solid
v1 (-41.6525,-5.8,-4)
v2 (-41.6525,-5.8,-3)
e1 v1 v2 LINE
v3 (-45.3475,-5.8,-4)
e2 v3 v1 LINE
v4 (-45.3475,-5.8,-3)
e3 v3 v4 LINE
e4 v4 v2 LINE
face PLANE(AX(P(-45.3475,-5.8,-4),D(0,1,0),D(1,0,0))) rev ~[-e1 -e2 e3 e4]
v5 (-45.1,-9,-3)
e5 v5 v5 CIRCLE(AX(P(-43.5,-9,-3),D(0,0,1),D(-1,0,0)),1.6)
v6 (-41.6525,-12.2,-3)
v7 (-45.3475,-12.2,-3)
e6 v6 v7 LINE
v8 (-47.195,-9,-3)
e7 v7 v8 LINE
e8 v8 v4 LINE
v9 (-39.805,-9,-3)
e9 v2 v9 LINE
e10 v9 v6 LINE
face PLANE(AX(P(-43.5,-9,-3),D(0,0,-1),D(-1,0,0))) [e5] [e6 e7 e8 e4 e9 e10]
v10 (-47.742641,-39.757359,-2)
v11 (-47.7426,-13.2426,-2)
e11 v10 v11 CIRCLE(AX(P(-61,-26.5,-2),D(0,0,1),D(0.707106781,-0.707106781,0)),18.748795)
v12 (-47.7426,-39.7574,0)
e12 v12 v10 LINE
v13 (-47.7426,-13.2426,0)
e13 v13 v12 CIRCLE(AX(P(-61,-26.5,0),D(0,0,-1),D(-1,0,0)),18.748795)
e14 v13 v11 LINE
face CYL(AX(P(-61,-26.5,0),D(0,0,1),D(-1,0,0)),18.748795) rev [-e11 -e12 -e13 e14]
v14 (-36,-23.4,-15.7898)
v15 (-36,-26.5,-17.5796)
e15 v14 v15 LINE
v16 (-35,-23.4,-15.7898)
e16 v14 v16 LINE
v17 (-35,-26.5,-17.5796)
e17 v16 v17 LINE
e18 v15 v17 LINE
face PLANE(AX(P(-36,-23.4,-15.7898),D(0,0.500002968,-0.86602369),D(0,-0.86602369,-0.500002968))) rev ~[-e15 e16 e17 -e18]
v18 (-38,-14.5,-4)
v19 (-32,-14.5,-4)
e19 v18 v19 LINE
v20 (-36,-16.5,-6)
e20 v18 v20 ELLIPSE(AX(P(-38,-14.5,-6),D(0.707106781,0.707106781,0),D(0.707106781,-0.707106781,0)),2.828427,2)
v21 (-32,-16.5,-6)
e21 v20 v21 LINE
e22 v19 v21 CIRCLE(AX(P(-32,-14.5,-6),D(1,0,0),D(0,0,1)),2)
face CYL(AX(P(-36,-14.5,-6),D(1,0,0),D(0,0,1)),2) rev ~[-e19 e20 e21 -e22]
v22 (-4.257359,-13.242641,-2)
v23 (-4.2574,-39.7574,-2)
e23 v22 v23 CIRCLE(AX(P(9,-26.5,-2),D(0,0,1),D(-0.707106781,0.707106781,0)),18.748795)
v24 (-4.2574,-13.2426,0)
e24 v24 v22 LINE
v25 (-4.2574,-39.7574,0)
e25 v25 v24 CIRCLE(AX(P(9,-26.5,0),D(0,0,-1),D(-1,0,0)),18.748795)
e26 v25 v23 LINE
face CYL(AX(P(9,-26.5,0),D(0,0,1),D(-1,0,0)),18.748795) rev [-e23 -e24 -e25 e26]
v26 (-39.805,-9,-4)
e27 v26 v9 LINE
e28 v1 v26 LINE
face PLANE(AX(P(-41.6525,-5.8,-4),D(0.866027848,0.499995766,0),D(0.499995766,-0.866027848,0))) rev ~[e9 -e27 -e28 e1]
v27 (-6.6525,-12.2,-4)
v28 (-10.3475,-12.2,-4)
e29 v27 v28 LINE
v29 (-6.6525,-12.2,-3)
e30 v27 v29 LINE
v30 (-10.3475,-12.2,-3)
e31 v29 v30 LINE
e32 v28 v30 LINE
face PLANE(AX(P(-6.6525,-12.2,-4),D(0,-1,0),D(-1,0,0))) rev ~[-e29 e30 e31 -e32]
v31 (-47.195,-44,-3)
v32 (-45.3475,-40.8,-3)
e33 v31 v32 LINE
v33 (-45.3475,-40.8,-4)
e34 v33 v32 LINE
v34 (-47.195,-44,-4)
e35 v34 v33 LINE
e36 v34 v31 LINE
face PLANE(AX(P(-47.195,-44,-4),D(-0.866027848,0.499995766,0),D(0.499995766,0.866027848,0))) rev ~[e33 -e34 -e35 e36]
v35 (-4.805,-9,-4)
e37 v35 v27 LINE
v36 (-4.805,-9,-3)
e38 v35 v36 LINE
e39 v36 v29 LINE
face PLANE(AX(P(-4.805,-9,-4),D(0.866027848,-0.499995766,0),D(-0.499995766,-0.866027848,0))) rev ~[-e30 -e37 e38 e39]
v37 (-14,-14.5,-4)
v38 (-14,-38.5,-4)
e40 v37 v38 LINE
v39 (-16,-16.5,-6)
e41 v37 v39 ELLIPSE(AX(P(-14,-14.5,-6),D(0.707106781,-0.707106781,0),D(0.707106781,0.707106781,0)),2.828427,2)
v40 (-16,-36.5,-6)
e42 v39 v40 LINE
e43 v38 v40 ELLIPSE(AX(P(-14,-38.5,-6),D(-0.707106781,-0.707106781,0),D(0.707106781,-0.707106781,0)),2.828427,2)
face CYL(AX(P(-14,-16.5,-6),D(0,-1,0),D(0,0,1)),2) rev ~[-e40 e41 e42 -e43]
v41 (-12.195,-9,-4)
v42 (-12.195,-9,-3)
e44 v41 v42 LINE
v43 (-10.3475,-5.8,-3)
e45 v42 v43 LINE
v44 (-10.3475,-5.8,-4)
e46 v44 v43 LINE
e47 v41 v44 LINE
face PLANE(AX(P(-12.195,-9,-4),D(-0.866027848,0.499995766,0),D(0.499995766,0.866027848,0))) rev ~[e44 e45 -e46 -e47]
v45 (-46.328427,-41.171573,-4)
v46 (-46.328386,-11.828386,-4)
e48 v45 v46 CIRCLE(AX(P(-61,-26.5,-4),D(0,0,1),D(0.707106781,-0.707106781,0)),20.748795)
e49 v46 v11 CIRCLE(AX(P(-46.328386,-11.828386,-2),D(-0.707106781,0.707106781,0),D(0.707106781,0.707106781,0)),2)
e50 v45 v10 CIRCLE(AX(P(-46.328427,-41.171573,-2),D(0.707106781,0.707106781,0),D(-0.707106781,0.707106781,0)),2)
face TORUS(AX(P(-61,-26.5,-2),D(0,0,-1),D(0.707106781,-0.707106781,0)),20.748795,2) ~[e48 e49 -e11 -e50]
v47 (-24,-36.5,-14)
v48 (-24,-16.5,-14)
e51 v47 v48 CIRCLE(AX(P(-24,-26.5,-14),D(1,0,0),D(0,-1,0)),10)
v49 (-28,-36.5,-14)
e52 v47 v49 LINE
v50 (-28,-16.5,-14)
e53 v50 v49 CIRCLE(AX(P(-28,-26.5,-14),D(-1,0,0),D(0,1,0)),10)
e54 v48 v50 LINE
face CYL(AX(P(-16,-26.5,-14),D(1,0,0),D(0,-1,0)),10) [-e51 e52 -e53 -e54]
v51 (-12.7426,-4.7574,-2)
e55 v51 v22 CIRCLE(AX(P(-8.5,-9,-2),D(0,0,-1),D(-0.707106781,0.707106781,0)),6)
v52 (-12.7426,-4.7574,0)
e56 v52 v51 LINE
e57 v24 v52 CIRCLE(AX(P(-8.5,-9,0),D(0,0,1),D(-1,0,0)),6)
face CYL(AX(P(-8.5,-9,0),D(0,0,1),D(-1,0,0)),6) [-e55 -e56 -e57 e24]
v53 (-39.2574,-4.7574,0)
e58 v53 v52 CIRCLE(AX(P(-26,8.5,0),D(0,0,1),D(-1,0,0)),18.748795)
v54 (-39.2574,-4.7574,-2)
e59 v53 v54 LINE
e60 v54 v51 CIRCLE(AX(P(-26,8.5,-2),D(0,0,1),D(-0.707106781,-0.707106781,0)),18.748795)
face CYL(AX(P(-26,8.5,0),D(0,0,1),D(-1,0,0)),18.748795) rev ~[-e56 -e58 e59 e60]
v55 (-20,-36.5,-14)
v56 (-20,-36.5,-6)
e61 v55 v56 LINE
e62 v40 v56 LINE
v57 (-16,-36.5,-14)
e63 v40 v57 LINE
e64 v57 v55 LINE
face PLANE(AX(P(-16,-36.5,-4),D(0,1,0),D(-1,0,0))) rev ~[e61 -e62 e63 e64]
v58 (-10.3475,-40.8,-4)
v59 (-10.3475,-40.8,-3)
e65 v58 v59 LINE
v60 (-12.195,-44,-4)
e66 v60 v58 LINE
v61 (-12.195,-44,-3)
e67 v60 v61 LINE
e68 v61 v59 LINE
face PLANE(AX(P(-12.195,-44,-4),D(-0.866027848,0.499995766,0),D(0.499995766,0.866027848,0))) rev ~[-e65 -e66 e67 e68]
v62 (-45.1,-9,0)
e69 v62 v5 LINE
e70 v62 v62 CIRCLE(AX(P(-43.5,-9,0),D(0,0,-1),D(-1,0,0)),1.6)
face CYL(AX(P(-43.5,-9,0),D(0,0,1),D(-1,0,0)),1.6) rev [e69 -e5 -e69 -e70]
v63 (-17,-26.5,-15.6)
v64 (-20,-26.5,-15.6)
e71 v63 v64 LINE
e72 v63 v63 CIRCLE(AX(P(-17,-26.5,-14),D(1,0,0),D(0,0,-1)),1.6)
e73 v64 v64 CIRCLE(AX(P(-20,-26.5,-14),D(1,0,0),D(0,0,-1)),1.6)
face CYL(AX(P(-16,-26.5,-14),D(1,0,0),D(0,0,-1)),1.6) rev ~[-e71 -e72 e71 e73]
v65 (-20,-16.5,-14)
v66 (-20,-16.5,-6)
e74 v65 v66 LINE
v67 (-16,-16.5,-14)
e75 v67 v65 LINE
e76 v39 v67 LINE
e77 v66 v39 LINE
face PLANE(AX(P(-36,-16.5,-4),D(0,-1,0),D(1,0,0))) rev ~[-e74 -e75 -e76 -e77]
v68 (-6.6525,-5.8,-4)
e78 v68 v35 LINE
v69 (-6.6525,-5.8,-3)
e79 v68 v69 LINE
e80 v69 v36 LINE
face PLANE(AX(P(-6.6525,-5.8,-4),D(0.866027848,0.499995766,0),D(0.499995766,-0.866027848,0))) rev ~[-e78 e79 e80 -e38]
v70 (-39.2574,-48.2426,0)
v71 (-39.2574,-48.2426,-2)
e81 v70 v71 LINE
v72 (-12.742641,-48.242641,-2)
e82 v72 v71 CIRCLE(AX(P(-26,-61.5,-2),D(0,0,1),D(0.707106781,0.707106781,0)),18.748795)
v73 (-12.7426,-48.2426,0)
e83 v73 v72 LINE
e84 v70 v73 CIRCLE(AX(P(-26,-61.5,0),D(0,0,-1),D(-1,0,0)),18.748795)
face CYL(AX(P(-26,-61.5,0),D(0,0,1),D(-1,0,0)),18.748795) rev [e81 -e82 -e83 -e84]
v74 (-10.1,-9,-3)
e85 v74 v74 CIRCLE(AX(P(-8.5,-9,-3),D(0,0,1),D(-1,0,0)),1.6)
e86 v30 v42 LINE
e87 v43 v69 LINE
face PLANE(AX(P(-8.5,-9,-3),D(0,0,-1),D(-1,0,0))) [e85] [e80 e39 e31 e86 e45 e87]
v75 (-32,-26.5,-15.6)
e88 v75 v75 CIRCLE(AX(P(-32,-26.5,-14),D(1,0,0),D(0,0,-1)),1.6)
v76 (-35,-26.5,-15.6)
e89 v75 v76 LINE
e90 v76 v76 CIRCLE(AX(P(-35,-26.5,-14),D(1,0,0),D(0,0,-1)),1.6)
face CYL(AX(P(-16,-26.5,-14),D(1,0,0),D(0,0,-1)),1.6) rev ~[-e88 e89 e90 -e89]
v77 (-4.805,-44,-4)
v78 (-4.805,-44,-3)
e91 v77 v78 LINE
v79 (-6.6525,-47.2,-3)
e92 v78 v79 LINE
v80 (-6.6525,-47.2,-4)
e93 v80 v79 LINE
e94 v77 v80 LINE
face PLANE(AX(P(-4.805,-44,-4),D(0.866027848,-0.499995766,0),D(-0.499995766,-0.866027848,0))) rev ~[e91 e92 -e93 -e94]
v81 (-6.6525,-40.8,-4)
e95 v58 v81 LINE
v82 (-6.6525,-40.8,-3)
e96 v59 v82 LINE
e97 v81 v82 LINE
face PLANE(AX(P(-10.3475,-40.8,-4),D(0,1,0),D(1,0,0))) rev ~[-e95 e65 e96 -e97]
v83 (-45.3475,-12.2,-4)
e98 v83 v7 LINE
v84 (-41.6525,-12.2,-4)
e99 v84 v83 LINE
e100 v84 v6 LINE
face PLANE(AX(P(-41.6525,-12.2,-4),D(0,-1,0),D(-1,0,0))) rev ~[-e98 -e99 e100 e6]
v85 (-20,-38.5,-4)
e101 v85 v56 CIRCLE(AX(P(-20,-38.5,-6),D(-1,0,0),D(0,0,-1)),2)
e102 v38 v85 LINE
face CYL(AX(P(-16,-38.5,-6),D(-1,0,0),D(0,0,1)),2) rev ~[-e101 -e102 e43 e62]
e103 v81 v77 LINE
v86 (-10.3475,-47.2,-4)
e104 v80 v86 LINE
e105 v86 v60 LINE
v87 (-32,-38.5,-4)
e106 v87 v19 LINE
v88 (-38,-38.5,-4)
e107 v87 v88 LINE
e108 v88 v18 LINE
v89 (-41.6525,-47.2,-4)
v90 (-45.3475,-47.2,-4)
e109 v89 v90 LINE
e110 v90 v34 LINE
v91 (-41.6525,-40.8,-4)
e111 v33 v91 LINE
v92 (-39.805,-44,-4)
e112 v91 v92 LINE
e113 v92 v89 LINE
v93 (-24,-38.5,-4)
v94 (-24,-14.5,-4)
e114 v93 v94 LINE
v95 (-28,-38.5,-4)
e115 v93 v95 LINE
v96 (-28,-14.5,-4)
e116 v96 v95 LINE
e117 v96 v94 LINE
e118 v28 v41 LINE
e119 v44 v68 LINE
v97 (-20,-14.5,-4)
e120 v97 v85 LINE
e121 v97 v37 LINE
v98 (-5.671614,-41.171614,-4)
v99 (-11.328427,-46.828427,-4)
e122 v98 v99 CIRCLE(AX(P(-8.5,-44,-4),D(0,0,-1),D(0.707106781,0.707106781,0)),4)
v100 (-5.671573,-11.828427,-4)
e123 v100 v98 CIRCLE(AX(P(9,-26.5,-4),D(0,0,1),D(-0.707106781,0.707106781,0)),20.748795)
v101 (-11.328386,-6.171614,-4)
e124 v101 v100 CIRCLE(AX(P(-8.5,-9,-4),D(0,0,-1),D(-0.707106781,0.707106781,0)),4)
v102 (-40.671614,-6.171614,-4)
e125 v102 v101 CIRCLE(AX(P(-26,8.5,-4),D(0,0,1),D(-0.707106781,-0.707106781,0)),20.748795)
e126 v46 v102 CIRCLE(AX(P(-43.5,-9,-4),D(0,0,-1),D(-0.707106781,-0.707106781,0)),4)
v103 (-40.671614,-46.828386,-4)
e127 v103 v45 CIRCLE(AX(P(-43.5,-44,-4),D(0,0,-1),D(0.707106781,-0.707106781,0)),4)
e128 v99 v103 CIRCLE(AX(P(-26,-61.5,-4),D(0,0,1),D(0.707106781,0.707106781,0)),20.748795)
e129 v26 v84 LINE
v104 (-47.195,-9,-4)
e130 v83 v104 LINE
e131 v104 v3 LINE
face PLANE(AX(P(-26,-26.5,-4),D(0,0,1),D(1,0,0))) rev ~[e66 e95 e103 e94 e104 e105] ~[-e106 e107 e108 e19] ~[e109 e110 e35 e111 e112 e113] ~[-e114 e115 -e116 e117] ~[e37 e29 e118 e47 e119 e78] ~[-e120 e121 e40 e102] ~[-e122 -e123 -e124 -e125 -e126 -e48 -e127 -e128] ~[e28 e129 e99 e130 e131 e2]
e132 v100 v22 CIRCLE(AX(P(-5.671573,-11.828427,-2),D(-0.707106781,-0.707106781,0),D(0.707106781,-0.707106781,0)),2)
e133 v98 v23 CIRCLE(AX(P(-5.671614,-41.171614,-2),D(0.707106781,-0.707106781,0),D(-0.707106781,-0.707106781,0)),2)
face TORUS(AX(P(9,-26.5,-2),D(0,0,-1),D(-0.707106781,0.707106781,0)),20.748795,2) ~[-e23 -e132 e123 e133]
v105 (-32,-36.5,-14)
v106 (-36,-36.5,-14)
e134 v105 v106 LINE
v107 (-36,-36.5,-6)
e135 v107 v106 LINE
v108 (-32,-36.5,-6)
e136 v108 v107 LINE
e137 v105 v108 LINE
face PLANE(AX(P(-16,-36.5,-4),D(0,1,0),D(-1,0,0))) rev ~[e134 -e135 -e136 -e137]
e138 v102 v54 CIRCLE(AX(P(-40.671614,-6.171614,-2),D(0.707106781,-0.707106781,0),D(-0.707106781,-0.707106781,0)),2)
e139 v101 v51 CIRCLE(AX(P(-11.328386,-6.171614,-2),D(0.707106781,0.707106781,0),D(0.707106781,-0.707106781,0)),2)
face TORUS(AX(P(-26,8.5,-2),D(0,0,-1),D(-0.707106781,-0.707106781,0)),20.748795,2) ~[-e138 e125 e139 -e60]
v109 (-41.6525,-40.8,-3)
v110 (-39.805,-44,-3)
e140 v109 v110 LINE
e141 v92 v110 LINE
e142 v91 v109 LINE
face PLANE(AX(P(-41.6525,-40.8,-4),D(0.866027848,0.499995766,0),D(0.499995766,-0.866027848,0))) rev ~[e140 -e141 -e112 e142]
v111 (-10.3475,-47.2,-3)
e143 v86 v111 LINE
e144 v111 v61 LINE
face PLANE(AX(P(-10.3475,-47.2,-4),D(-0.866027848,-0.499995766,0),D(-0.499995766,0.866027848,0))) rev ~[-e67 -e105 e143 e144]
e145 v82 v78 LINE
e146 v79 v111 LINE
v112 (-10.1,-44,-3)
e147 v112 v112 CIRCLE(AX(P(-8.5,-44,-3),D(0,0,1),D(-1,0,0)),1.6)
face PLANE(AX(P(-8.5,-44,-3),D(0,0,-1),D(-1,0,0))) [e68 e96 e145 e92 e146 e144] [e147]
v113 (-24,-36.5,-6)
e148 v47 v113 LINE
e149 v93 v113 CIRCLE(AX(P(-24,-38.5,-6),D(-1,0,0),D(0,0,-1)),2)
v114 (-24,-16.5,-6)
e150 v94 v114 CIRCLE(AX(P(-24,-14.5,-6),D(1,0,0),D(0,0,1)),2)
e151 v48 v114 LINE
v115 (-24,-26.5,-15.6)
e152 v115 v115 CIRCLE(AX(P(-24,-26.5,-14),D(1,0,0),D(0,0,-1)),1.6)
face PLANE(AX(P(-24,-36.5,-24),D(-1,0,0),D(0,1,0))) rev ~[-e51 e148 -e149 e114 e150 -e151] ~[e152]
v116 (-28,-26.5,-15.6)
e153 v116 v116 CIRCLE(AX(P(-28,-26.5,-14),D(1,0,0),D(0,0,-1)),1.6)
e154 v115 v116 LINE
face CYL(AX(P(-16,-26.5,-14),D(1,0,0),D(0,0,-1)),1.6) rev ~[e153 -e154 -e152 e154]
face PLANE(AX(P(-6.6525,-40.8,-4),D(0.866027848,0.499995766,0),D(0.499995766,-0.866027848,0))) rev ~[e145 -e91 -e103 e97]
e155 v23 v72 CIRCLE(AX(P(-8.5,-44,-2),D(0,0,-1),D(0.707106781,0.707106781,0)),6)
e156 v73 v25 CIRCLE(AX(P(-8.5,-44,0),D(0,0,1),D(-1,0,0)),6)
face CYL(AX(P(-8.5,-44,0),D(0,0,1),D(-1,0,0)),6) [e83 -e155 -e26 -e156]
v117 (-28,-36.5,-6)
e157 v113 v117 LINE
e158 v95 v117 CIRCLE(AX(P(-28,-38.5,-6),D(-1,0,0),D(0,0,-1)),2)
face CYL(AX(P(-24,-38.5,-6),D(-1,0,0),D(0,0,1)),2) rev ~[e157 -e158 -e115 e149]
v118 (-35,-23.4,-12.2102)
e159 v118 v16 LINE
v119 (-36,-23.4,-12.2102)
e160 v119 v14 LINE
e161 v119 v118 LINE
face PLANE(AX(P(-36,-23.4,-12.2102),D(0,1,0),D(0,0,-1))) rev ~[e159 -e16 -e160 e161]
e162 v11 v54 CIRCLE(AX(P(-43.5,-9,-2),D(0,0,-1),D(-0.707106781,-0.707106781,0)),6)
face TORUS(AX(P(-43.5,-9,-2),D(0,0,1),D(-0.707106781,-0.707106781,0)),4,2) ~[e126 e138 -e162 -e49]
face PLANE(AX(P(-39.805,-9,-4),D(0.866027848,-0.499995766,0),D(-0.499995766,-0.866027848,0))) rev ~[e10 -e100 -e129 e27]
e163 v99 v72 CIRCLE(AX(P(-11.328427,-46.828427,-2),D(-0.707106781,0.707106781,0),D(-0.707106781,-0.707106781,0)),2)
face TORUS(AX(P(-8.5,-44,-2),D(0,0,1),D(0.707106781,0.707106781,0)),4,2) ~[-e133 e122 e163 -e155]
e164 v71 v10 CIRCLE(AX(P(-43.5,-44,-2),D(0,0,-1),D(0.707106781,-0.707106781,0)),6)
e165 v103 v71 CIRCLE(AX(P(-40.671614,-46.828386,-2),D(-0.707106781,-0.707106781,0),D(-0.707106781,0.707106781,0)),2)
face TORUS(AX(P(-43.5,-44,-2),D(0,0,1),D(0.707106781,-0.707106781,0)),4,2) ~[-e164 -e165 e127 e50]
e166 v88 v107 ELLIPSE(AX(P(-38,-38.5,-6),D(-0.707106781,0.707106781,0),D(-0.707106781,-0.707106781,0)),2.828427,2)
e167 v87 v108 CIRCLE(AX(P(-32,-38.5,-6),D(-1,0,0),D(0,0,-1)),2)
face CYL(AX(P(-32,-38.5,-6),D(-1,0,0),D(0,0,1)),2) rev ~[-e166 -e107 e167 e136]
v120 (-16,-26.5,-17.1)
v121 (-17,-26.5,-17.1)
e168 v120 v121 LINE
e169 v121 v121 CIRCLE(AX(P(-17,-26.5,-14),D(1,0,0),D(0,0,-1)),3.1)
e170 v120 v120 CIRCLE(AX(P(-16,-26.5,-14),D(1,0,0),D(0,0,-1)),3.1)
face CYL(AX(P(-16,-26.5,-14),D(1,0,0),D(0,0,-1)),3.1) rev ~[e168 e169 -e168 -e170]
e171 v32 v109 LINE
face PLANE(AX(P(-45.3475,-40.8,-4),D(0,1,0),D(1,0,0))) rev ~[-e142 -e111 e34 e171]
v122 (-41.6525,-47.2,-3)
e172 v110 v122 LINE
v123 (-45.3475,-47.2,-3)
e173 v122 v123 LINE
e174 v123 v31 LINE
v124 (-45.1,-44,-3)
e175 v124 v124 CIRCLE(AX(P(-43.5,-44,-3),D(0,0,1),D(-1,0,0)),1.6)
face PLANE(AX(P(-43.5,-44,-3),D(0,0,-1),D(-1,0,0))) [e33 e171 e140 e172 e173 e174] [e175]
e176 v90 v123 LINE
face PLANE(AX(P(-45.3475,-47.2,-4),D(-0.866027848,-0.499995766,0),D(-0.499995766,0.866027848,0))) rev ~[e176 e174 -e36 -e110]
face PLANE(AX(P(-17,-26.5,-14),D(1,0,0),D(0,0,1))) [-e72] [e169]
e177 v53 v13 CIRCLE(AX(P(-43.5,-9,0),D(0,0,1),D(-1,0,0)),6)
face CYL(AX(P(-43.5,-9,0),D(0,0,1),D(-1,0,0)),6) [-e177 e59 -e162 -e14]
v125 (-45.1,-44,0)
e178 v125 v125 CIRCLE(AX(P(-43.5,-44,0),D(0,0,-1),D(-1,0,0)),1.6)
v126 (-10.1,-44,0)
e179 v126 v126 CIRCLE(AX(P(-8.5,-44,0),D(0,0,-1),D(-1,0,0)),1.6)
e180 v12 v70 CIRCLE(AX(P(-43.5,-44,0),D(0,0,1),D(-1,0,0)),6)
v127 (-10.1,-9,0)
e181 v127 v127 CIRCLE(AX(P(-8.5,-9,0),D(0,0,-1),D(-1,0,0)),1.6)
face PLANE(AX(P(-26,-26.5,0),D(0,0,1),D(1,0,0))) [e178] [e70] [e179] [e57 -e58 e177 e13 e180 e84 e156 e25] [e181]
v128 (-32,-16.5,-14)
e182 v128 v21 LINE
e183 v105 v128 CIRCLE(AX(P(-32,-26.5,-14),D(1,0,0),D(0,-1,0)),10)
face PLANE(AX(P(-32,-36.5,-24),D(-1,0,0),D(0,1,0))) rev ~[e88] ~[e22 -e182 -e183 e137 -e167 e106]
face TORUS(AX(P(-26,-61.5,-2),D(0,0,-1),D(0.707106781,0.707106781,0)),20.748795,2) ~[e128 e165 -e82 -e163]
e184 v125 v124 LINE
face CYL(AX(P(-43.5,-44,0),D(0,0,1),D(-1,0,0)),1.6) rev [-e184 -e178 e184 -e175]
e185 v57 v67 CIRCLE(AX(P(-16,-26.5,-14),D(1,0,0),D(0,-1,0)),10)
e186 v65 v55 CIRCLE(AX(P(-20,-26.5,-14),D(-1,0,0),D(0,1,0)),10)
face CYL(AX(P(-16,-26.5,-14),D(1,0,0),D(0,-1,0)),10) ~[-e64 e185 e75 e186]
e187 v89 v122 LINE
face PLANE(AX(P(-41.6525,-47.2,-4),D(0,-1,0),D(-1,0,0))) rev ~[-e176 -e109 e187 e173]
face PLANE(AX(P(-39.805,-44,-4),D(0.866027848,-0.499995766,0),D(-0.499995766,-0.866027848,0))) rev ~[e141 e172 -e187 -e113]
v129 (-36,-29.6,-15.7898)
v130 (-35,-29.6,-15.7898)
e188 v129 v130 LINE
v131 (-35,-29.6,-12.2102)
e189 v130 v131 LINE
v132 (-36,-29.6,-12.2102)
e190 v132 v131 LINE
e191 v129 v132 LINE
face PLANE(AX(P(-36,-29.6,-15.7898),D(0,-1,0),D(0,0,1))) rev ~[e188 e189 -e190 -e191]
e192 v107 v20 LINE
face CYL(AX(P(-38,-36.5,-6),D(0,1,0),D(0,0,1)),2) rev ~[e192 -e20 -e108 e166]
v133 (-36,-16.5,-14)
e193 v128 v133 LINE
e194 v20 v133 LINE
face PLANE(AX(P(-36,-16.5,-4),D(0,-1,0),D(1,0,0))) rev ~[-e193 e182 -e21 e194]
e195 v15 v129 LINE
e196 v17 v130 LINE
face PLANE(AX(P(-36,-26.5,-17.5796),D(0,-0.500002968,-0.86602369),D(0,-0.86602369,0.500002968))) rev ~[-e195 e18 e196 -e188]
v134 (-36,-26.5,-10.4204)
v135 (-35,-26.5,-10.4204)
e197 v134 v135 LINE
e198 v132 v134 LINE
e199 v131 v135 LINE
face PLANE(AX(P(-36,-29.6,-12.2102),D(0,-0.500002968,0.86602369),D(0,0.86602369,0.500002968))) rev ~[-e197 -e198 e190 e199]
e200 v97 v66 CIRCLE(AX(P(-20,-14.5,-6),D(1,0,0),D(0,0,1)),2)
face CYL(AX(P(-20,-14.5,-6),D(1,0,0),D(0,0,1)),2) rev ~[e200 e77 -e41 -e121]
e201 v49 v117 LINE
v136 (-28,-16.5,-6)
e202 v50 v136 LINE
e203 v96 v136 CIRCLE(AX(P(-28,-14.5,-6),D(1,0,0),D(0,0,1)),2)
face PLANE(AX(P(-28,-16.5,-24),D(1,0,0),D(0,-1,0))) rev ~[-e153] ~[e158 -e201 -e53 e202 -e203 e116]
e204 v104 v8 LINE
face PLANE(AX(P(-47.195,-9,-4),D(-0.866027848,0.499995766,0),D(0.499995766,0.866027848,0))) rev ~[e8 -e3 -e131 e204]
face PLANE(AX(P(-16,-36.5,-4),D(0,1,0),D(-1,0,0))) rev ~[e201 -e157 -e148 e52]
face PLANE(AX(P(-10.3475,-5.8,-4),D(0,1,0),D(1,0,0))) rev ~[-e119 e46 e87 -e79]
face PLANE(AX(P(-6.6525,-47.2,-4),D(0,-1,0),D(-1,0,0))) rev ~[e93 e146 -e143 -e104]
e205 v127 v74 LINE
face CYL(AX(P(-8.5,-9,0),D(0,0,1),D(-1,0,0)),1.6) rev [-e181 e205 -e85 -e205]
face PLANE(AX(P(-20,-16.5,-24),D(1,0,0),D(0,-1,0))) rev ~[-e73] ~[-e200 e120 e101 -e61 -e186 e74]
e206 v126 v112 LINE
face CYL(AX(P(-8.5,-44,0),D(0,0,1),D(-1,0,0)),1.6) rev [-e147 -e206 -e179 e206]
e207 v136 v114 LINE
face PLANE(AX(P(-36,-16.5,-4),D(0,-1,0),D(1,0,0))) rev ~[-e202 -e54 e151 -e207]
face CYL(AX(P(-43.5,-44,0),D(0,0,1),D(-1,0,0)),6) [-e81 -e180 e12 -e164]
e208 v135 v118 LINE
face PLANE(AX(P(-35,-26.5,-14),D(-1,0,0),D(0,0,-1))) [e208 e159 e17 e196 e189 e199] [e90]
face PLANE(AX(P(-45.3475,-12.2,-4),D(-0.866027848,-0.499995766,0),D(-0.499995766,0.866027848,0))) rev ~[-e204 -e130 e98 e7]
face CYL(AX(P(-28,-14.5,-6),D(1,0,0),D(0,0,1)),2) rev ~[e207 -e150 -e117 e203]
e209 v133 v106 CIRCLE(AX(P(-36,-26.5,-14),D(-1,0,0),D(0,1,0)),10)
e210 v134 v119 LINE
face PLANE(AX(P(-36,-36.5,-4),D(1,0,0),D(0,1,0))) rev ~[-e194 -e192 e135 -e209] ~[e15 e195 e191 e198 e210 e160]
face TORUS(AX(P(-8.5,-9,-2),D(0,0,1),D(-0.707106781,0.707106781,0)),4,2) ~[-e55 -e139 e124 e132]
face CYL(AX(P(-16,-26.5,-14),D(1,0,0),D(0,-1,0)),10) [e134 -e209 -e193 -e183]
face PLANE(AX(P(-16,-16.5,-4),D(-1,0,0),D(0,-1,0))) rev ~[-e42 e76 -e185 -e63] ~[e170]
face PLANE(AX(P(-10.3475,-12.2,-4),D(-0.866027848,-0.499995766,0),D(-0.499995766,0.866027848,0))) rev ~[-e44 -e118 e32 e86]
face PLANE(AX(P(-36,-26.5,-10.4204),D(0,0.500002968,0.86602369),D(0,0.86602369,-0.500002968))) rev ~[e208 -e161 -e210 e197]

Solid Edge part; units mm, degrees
sketch "Sketch1" plane through (0, 0, 0) normal (0, 0, -1) x (-1, 0, 0)
  circle A0 centre (8.5, -9) radius 1.6
  circle A1 centre (43.5, -9) radius 1.6
  circle A2 centre (43.5, -44) radius 1.6
  circle A3 centre (8.5, -44) radius 1.6
  arc A4 (4.2574, -39.7574) -> (4.2574, -13.2426) centre (-9, -26.5) ccw
  arc A5 (39.2574, -4.7574) -> (12.7426, -4.7574) centre (26, 8.5) cw
  arc A6 (47.7426, -13.2426) -> (47.7426, -39.7574) centre (61, -26.5) ccw
  arc A7 (39.2574, -48.2426) -> (12.7426, -48.2426) centre (26, -61.5) ccw
  arc A8 (12.7426, -48.2426) -> (4.2574, -39.7574) centre (8.5, -44) cw
  arc A9 (4.2574, -13.2426) -> (12.7426, -4.7574) centre (8.5, -9) cw
  arc A10 (39.2574, -4.7574) -> (47.7426, -13.2426) centre (43.5, -9) cw
  arc A11 (47.7426, -39.7574) -> (39.2574, -48.2426) centre (43.5, -44) cw
extrude "Protrusion1" add sketch "Sketch1" along normal blind 4
sketch "Sketch2" plane through (-26, -26.5, -4) normal (0, 0, -1) x (-1, 0, 0)
  line L0 (-19.3475, 20.7) -> (-21.195, 17.5)
  line L1 (-21.195, 17.5) -> (-19.3475, 14.3)
  line L2 (-19.3475, 14.3) -> (-15.6525, 14.3)
  line L3 (-15.6525, 14.3) -> (-13.805, 17.5)
  line L4 (-13.805, 17.5) -> (-15.6525, 20.7)
  line L5 (-15.6525, 20.7) -> (-19.3475, 20.7)
  line L6 (19.3475, 14.3) -> (21.195, 17.5)
  line L7 (21.195, 17.5) -> (19.3475, 20.7)
  line L8 (19.3475, 20.7) -> (15.6525, 20.7)
  line L9 (15.6525, 20.7) -> (13.805, 17.5)
  line L10 (13.805, 17.5) -> (15.6525, 14.3)
  line L11 (15.6525, 14.3) -> (19.3475, 14.3)
  line L12 (-19.3475, -14.3) -> (-21.195, -17.5)
  line L13 (-21.195, -17.5) -> (-19.3475, -20.7)
  line L14 (-19.3475, -20.7) -> (-15.6525, -20.7)
  line L15 (-15.6525, -20.7) -> (-13.805, -17.5)
  line L16 (-13.805, -17.5) -> (-15.6525, -14.3)
  line L17 (-15.6525, -14.3) -> (-19.3475, -14.3)
  line L18 (19.3475, -20.7) -> (21.195, -17.5)
  line L19 (21.195, -17.5) -> (19.3475, -14.3)
  line L20 (19.3475, -14.3) -> (15.6525, -14.3)
  line L21 (15.6525, -14.3) -> (13.805, -17.5)
  line L22 (13.805, -17.5) -> (15.6525, -20.7)
  line L23 (15.6525, -20.7) -> (19.3475, -20.7)
extrude "ExtrudedCutout_1" cut sketch "Sketch2" against normal blind 1
fillet "Round_1" radius 2 8 edges at (-26, -10.2487, -4) (-47.7426, -4.7574, -4) (-42.2513, -26.5, -4) (-47.7426, -48.2426, -4) (-26, -42.7513, -4) (-4.2574, -48.2426, -4) (-9.7487, -26.5, -4) (-4.2574, -4.7574, -4)
sketch "Sketch3" plane through (-26, -26.5, -4) normal (0, 0, -1) x (-1, 0, 0)
  line L0 (-10, -10) -> (10, -10)
  line L1 (10, -10) -> (10, 10)
  line L2 (10, 10) -> (-10, 10)
  line L3 (-10, 10) -> (-10, -10)
extrude "ExtrudedProtrusion_2" add sketch "Sketch3" along normal blind 20
sketch "Sketch4" plane through (-26, -26.5, -24) normal (0, 0, -1) x (-1, 0, 0)
  line L0 (-6, 10) -> (-6, -10)
  line L1 (-6, -10) -> (-2, -10)
  line L2 (-2, -10) -> (-2, 10)
  line L3 (-6, 10) -> (-2, 10)
  line L4 (2, 10) -> (2, -10)
  line L5 (2, -10) -> (6, -10)
  line L6 (6, -10) -> (6, 10)
  line L7 (6, 10) -> (2, 10)
extrude "ExtrudedCutout_2" cut sketch "Sketch4" against normal blind 20
sketch "Sketch5" plane through (-16, -26.5, -11.5) normal (1, 0, 0) x (0, -1, 0)
  arc A0 (0, 12.5) -> (-10, 2.5) centre (0, 2.5) ccw
  line L0 (-10, 2.5) -> (-11.394, 2.5)
  line L1 (-11.394, 2.5) -> (-11.394, 13.023)
  line L2 (-11.394, 13.023) -> (11.286, 13.023)
  line L3 (11.286, 13.023) -> (11.286, 2.5)
  line L4 (11.286, 2.5) -> (10, 2.5)
  arc A1 (0, 12.5) -> (10, 2.5) centre (0, 2.5) cw
extrude "ExtrudedCutout_3" cut sketch "Sketch5" against normal blind 20
fillet "Round_2" radius 2 8 edges at (-26, -16.5, -4) (-18, -16.5, -4) (-34, -16.5, -4) (-16, -26.5, -4) (-34, -36.5, -4) (-26, -36.5, -4) (-18, -36.5, -4) (-36, -26.5, -4)
sketch "Sketch6" plane through (-16, -26.5, -15) normal (1, 0, 0) x (0, 0, -1)
  circle A0 centre (-1, 0) radius 1.6
extrude "Cutout1" cut sketch "Sketch6" against normal up to vertex (20 mm away)
sketch "Sketch7" plane through (-16, -26.5, -15) normal (1, 0, 0) x (0, 0, -1)
  circle A0 centre (-1, 0) radius 3.1
extrude "ExtrudedCutout_5" cut sketch "Sketch7" against normal blind 1
sketch "Sketch8" plane through (-36, -26.5, -15) normal (-1, 0, 0) x (0, 0, 1)
  line L0 (-0.7898, 3.1) -> (-2.5796, 0)
  line L1 (-2.5796, 0) -> (-0.7898, -3.1)
  line L2 (-0.7898, -3.1) -> (2.7898, -3.1)
  line L3 (2.7898, -3.1) -> (4.5796, 0)
  line L4 (4.5796, 0) -> (2.7898, 3.1)
  line L5 (2.7898, 3.1) -> (-0.7898, 3.1)
extrude "ExtrudedCutout_6" cut sketch "Sketch8" against normal blind 1
